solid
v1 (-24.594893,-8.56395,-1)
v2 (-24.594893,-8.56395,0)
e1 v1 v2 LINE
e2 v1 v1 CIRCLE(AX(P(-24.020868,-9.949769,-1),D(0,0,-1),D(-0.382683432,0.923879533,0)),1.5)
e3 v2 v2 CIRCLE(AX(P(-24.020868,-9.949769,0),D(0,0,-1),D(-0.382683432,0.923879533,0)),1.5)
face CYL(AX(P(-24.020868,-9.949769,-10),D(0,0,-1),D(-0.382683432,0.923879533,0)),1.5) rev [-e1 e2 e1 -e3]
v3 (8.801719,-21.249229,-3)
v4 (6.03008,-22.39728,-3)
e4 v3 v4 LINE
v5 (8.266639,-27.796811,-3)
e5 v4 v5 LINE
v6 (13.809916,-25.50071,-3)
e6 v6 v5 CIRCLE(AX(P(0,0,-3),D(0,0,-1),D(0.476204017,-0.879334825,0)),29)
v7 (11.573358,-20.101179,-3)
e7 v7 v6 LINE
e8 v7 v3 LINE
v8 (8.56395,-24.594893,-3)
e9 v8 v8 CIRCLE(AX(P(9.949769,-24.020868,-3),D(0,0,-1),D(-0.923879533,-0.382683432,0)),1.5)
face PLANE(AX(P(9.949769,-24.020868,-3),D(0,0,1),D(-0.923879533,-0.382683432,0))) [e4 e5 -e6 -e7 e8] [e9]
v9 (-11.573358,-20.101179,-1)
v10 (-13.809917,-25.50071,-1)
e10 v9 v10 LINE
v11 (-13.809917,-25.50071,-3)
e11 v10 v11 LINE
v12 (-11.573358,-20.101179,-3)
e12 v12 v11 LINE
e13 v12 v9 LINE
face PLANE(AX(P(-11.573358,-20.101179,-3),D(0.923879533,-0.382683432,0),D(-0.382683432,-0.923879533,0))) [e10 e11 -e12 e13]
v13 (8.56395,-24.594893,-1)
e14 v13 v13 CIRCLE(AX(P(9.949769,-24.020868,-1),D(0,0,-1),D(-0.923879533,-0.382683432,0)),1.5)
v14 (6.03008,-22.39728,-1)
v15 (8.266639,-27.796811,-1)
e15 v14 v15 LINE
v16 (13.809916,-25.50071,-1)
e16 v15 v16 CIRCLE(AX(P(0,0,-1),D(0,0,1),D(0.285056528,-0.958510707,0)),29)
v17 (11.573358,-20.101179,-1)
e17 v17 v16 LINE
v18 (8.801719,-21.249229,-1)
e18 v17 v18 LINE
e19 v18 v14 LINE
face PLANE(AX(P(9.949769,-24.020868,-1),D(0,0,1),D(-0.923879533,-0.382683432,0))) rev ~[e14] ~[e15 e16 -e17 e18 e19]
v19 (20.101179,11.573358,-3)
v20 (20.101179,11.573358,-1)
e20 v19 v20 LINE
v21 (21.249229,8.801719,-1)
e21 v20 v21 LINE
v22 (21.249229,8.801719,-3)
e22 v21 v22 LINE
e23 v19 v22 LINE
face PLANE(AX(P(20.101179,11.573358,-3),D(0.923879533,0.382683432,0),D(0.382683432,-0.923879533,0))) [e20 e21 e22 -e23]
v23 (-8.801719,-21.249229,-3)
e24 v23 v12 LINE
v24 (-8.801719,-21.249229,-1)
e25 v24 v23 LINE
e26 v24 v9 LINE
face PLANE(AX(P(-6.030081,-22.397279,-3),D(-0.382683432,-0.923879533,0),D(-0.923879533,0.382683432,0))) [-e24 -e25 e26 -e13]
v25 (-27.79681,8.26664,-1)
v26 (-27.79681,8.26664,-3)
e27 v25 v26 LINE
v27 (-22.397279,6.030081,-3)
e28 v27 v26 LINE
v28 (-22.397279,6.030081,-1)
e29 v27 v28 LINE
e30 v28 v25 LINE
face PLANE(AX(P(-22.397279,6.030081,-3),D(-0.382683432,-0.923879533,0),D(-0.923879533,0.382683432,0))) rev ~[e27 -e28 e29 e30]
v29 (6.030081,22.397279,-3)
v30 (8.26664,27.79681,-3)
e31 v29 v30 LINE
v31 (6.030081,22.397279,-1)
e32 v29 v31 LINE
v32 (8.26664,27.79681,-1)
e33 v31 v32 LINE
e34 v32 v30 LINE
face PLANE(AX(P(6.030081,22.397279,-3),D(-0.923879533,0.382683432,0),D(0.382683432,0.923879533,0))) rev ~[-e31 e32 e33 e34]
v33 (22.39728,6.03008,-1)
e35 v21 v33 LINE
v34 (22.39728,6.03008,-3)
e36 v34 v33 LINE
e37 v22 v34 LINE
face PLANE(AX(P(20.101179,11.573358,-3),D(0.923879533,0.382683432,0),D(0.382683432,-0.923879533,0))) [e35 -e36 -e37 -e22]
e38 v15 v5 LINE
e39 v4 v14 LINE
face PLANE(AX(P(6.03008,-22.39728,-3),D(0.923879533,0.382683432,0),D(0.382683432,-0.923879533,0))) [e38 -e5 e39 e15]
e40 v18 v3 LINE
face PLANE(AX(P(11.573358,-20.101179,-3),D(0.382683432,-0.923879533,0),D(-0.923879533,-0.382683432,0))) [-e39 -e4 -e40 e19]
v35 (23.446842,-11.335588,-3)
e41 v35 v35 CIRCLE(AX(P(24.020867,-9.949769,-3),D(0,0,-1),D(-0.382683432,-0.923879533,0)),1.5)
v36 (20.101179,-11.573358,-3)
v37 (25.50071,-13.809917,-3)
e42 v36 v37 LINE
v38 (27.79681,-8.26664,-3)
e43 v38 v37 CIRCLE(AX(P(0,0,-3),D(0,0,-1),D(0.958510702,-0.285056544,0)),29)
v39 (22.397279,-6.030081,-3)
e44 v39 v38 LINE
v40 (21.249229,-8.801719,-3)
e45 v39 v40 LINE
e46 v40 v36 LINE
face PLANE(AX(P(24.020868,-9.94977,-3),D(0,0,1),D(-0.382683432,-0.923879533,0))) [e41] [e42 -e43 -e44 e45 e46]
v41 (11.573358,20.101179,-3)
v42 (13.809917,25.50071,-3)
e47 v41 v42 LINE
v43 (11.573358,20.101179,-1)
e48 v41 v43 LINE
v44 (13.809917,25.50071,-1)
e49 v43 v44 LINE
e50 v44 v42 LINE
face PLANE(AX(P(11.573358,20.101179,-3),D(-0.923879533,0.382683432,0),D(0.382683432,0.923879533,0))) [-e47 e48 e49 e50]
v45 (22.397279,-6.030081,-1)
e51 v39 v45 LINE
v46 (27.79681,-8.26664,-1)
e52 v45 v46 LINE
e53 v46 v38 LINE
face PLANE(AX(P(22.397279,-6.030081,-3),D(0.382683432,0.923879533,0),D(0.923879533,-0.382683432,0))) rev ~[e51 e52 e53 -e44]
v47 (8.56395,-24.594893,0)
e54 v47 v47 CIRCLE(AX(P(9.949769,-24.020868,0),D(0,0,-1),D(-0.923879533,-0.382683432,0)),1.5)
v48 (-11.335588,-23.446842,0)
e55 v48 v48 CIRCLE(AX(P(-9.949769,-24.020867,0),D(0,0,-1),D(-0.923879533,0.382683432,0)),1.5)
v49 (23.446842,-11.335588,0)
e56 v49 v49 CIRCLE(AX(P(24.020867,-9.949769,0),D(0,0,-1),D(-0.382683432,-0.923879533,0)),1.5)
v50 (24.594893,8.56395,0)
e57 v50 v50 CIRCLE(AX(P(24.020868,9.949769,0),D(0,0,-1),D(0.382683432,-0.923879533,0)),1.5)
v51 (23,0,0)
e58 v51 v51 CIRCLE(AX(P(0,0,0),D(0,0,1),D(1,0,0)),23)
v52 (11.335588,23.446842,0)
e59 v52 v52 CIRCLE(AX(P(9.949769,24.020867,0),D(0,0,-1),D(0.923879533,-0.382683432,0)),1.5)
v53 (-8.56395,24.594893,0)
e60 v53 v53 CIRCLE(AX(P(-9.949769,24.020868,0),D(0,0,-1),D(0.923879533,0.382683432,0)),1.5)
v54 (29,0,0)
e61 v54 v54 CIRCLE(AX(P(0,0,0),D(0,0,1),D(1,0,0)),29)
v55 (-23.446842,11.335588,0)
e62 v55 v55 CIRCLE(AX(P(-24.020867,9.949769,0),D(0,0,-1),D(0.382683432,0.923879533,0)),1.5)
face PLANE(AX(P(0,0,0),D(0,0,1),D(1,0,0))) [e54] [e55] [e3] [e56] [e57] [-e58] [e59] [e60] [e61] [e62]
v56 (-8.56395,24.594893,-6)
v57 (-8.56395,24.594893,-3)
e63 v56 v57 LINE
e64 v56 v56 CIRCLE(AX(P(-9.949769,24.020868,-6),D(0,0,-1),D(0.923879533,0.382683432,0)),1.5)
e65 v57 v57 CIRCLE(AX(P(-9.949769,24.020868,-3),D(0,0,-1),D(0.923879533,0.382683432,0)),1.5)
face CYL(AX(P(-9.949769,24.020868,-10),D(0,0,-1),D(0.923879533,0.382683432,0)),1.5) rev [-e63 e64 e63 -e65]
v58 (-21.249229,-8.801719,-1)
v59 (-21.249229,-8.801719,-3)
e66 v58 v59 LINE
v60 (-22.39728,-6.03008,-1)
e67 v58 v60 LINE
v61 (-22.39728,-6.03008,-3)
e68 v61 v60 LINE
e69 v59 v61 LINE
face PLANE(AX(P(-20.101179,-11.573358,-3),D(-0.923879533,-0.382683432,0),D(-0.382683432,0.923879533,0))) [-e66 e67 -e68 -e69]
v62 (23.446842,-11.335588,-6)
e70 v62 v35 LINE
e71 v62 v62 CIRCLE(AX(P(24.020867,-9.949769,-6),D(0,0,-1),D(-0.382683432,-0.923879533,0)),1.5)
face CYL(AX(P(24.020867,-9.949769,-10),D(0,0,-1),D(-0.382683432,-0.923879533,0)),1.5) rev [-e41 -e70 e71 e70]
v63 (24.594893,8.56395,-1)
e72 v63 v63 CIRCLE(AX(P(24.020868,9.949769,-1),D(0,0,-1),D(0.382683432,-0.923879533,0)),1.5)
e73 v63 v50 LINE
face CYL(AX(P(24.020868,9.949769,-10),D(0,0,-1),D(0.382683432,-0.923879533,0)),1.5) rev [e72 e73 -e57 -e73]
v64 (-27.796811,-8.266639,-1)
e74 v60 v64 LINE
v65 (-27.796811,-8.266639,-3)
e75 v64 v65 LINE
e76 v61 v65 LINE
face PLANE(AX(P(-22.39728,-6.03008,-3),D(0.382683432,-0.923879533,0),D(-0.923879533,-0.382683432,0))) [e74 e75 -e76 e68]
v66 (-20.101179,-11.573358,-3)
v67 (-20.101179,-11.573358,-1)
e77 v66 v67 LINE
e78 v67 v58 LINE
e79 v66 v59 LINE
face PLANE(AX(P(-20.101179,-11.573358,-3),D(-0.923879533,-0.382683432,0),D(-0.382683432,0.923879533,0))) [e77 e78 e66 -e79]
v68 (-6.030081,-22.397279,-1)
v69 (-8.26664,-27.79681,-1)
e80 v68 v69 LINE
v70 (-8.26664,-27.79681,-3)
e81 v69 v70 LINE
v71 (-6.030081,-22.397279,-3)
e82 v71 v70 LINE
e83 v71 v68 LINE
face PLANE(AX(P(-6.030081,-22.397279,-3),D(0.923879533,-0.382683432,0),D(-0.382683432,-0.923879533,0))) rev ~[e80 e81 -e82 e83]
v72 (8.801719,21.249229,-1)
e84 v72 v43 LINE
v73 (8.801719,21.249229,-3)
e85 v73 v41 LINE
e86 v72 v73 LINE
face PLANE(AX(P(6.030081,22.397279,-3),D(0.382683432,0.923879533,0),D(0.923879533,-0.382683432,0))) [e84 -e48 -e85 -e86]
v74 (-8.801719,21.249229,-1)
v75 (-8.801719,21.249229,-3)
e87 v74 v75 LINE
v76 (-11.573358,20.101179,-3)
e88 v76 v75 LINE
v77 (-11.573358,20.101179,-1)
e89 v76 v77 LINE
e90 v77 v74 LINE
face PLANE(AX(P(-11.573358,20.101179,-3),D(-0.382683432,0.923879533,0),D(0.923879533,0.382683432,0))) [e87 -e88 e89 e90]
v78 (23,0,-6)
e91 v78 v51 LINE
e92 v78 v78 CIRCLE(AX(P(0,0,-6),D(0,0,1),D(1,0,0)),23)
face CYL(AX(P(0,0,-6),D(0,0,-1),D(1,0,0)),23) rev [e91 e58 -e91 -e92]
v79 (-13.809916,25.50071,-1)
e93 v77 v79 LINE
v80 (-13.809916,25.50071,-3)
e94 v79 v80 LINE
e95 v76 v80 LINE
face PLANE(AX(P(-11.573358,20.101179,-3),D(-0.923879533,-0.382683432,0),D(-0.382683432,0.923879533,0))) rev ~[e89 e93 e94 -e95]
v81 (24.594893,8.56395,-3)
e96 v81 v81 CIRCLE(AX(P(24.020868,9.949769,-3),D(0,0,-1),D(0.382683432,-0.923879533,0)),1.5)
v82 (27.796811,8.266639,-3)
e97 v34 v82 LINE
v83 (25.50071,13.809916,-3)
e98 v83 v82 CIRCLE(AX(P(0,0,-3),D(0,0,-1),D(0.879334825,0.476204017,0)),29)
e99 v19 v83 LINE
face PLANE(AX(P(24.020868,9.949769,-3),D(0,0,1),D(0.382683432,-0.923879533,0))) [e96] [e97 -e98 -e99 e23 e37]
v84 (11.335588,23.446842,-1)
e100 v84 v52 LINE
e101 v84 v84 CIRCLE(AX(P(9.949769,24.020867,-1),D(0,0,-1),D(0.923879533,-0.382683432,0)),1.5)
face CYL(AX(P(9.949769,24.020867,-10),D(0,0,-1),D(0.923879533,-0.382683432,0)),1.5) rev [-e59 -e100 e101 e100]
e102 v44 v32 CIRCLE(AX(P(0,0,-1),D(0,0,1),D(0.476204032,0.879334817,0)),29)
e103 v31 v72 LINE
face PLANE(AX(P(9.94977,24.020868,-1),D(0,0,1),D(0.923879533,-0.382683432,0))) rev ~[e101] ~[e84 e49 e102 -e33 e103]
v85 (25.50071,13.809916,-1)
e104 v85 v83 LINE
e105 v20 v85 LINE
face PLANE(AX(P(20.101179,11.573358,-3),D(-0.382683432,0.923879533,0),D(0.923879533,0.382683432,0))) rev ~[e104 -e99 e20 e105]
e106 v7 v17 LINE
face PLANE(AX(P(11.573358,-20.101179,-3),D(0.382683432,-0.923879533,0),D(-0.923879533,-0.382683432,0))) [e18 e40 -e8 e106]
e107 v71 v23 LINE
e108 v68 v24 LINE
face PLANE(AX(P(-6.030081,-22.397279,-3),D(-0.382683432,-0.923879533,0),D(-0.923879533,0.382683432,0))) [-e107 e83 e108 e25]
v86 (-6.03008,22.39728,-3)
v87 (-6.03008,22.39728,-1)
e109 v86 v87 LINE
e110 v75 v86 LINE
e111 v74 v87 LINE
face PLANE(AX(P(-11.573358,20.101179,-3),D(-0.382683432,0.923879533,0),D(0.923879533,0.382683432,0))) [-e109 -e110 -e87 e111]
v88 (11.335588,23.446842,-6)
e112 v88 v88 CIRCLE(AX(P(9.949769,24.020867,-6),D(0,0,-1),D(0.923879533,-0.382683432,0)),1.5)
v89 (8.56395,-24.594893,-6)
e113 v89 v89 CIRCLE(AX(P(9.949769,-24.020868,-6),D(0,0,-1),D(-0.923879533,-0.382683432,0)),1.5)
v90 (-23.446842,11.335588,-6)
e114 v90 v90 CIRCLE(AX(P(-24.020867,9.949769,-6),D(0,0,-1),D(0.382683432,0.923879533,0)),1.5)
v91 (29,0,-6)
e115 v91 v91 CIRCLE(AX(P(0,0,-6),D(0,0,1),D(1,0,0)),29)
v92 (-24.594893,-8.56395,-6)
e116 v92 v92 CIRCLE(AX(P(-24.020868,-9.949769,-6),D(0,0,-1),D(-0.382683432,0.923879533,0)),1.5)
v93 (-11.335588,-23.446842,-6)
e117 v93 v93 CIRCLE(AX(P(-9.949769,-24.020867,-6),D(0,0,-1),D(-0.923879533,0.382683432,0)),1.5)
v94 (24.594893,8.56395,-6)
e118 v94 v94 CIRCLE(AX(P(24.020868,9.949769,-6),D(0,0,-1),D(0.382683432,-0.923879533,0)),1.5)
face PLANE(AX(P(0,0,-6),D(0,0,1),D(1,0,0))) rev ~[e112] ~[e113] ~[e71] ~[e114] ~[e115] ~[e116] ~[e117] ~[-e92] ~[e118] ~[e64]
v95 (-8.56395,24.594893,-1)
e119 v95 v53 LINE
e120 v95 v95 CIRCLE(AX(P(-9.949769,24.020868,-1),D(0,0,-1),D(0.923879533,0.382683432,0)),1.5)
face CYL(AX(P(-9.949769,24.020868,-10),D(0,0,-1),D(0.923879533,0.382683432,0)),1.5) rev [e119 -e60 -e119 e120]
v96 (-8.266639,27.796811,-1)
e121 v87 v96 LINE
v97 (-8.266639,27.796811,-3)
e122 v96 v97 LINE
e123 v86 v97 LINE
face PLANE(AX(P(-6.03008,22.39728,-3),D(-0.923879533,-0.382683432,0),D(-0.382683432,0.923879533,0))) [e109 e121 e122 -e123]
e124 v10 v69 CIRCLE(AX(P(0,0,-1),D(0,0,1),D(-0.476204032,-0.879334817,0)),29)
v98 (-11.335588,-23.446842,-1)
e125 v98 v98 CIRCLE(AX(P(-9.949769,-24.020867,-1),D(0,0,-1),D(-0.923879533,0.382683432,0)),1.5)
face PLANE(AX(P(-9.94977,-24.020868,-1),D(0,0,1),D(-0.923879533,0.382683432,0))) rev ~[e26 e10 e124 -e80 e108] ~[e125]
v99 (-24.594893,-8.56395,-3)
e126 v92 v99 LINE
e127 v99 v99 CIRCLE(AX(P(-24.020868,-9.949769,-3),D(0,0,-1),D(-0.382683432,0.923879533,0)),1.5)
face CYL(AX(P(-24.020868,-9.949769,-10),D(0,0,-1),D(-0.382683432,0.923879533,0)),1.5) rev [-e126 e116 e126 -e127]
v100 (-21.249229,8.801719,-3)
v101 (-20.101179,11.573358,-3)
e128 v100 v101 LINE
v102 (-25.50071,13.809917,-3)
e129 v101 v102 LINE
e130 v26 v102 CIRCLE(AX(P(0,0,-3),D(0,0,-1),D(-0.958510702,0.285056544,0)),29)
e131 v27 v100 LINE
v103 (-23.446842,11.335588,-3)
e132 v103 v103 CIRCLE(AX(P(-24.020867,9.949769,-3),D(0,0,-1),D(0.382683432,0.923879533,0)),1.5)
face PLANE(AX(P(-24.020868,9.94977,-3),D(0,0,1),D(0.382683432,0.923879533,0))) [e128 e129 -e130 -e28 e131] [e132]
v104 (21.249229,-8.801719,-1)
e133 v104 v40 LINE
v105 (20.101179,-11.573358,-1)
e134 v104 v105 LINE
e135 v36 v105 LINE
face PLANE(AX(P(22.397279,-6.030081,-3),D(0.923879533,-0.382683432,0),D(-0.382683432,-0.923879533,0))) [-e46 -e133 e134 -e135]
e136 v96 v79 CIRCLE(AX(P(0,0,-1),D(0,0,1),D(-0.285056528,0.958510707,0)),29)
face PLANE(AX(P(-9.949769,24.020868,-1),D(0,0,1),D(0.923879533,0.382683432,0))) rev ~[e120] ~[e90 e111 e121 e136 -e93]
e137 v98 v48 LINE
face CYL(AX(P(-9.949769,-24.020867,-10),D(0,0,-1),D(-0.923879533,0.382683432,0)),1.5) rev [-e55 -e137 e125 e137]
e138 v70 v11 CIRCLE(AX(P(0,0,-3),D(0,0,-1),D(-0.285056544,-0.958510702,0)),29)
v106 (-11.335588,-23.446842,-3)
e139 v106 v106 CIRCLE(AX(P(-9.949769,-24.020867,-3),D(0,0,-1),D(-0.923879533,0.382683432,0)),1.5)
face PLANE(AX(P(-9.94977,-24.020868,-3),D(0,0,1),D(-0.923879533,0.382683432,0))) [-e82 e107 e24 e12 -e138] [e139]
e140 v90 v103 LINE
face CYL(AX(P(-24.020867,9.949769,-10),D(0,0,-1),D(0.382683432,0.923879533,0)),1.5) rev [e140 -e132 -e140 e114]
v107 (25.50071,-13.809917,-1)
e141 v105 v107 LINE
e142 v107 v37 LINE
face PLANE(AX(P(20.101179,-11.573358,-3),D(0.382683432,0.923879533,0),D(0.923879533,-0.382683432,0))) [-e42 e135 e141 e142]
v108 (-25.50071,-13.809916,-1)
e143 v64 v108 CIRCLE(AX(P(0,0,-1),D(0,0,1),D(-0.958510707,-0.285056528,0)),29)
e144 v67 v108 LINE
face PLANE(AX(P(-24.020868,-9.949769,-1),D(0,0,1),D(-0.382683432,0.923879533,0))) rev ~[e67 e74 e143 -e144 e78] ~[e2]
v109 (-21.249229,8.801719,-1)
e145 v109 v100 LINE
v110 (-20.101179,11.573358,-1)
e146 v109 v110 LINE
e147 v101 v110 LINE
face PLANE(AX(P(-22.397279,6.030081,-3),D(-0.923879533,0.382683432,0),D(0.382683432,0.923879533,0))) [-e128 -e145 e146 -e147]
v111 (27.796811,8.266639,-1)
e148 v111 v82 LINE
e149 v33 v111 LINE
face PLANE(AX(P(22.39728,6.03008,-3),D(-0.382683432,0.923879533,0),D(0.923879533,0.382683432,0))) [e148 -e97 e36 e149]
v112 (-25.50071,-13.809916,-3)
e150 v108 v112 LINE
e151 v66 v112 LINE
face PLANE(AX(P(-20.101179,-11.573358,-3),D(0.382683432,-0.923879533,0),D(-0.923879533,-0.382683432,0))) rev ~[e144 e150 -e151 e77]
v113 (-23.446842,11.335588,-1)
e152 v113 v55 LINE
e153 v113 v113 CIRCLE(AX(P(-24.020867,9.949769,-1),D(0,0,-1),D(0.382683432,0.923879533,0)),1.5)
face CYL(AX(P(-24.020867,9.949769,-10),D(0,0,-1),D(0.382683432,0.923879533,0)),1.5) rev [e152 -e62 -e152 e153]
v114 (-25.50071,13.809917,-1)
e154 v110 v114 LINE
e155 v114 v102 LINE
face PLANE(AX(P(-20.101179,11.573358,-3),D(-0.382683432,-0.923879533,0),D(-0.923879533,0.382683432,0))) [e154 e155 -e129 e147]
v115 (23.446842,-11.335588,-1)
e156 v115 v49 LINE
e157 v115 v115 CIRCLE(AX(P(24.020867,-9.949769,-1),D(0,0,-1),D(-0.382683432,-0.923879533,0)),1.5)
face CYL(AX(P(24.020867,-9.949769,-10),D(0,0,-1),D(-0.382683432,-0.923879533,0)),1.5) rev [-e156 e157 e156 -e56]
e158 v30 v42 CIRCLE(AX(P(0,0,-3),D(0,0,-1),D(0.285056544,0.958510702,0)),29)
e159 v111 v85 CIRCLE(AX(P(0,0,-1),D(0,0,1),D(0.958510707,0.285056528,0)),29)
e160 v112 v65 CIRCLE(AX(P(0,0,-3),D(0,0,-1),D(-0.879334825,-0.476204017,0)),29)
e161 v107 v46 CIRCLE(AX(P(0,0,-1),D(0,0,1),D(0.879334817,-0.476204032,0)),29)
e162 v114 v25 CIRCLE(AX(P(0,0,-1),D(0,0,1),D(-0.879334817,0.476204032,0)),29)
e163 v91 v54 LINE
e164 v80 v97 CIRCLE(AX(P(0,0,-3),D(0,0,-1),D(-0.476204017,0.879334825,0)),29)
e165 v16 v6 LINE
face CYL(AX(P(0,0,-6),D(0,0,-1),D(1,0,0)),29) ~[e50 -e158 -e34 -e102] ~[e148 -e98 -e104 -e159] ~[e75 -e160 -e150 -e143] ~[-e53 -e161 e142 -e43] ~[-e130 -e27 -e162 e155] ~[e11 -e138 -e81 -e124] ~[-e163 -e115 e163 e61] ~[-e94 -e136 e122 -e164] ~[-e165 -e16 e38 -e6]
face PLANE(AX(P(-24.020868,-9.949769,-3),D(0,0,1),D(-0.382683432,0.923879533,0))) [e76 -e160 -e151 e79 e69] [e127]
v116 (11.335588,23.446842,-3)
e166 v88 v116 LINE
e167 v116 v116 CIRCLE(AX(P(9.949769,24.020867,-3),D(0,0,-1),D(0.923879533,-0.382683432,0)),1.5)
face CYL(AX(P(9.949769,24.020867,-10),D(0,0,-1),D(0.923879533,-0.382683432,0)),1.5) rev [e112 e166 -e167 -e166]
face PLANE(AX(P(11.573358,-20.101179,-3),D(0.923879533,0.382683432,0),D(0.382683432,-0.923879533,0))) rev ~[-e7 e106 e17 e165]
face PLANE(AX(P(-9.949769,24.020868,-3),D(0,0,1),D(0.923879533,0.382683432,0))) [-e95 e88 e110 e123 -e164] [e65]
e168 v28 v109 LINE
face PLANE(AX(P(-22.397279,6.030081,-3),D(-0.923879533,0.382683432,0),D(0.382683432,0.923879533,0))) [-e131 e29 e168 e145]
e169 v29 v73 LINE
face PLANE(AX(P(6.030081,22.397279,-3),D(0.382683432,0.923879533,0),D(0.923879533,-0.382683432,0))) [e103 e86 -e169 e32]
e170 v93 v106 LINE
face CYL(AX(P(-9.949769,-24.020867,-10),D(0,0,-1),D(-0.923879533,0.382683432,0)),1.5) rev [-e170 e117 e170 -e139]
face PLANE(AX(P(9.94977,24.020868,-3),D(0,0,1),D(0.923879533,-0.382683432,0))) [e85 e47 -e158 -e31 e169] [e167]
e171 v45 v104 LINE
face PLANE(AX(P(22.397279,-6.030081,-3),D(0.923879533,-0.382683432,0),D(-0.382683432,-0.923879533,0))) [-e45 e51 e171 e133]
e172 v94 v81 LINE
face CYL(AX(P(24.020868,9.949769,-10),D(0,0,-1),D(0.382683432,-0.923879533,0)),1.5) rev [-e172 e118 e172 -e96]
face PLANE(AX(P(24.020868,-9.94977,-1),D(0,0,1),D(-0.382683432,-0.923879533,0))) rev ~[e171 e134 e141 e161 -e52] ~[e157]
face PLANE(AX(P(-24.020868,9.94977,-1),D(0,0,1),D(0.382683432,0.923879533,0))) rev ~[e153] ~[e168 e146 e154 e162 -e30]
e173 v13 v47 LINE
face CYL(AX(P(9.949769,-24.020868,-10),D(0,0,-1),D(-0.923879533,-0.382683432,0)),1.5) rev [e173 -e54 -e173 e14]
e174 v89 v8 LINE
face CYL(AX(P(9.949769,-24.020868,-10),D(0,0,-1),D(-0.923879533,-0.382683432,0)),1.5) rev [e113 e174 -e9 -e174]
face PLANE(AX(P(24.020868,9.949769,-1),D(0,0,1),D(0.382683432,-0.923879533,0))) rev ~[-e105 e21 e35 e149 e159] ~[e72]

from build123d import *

# Parameters (mm, degrees)
BOX345_W                    = 6
BOX345_H                    = 6
BOX345_DEPTH                = 2
BOX341_W                    = 6
BOX341_H                    = 6
BOX341_DEPTH                = 2
BOX341_PLACEMENT_ANGLE      = 135
BOX346_W                    = 6
BOX346_H                    = 6
BOX346_DEPTH                = 2
BOX343_W                    = 6
BOX343_H                    = 6
BOX343_DEPTH                = 2
BOX343_PLACEMENT_ANGLE      = 225
BOX347_W                    = 6
BOX347_H                    = 6
BOX347_DEPTH                = 2
BOX344_W                    = 6
BOX344_H                    = 6
BOX344_DEPTH                = 2
BOX344_PLACEMENT_ANGLE      = 45
BOX340_W                    = 6
BOX340_H                    = 6
BOX340_DEPTH                = 2
BOX342_W                    = 6
BOX342_H                    = 6
BOX342_DEPTH                = 2
BOX342_PLACEMENT_ANGLE      = 45
COMPOUND569_PLACEMENT_ANGLE = 22.5
CYLINDER907_R               = 1.5
CYLINDER907_DEPTH           = 15
CYLINDER907_PLACEMENT_ANGLE = 45
CYLINDER906_R               = 1.5
CYLINDER906_DEPTH           = 15
CYLINDER905_R               = 1.5
CYLINDER905_DEPTH           = 15
CYLINDER905_PLACEMENT_ANGLE = 135
CYLINDER910_R               = 1.5
CYLINDER910_DEPTH           = 15
CYLINDER911_R               = 1.5
CYLINDER911_DEPTH           = 15
CYLINDER911_PLACEMENT_ANGLE = 225
CYLINDER912_R               = 1.5
CYLINDER912_DEPTH           = 15
CYLINDER908_R               = 1.5
CYLINDER908_DEPTH           = 15
CYLINDER908_PLACEMENT_ANGLE = 45
CYLINDER909_R               = 1.5
CYLINDER909_DEPTH           = 15
COMPOUND568_PLACEMENT_ANGLE = 22.5
TUBE010_R                   = 29
TUBE010_R_2                 = 23
TUBE010_DEPTH               = 6


with BuildPart() as krychle345:
    # Box345 → Box345 (new body)
    with BuildSketch(Plane(origin=(-23, -3, -13), x_dir=(0, 1, 0), z_dir=(0, 0, 1))):
        with Locations((3, 3)):
            Rectangle(BOX345_W, BOX345_H)
    extrude(amount=BOX345_DEPTH)


with BuildPart() as krychle341:
    # Box341 → Box341 (new body)
    with BuildSketch(Plane.XY):
        with Locations((3, 3)):
            Rectangle(BOX341_W, BOX341_H)
    extrude(amount=BOX341_DEPTH)


with BuildPart() as krychle341_1:
    # Box341 placement: moved
    add(krychle341.part.moved(Location((-14.142136, -18.384776, -13))).rotate(Axis((-14.142136, -18.384776, -13), (0, 0, 1)), BOX341_PLACEMENT_ANGLE))


with BuildPart() as krychle346:
    # Box346 → Box346 (new body)
    with BuildSketch(Plane(origin=(3, -23, -13), x_dir=(-1, 0, 0), z_dir=(0, 0, 1))):
        with Locations((3, 3)):
            Rectangle(BOX346_W, BOX346_H)
    extrude(amount=BOX346_DEPTH)


with BuildPart() as krychle343:
    # Box343 → Box343 (new body)
    with BuildSketch(Plane.XY):
        with Locations((3, 3)):
            Rectangle(BOX343_W, BOX343_H)
    extrude(amount=BOX343_DEPTH)


with BuildPart() as krychle343_1:
    # Box343 placement: moved
    add(krychle343.part.moved(Location((18.384776, -14.142136, -13))).rotate(Axis((18.384776, -14.142136, -13), (0, 0, 1)), BOX343_PLACEMENT_ANGLE))


with BuildPart() as krychle347:
    # Box347 → Box347 (new body)
    with BuildSketch(Plane(origin=(23, 3, -13), x_dir=(0, -1, 0), z_dir=(0, 0, 1))):
        with Locations((3, 3)):
            Rectangle(BOX347_W, BOX347_H)
    extrude(amount=BOX347_DEPTH)


with BuildPart() as krychle344:
    # Box344 → Box344 (new body)
    with BuildSketch(Plane.XY):
        with Locations((3, 3)):
            Rectangle(BOX344_W, BOX344_H)
    extrude(amount=BOX344_DEPTH)


with BuildPart() as krychle344_1:
    # Box344 placement: moved
    add(krychle344.part.moved(Location((14.142136, 18.384776, -13))).rotate(Axis((14.142136, 18.384776, -13), (0, 0, -1)), BOX344_PLACEMENT_ANGLE))


with BuildPart() as krychle340:
    # Box340 → Box340 (new body)
    with BuildSketch(Plane(origin=(-3, 23, -13), x_dir=(1, 0, 0), z_dir=(0, 0, 1))):
        with Locations((3, 3)):
            Rectangle(BOX340_W, BOX340_H)
    extrude(amount=BOX340_DEPTH)


with BuildPart() as compound569:
    # Box342 → Box342 (new body)
    with BuildSketch(Plane.XY):
        with Locations((3, 3)):
            Rectangle(BOX342_W, BOX342_H)
    extrude(amount=BOX342_DEPTH)


with BuildPart() as compound569_1:
    # Box342 placement: moved
    add(compound569.part.moved(Location((-18.384776, 14.142136, -13))).rotate(Axis((-18.384776, 14.142136, -13), (0, 0, 1)), BOX342_PLACEMENT_ANGLE))

    # Compound569: union Krychle345, Krychle341, Krychle346, Krychle343, Krychle347, Krychle344, Krychle340
    add(krychle345.part)
    add(krychle341_1.part)
    add(krychle346.part)
    add(krychle343_1.part)
    add(krychle347.part)
    add(krychle344_1.part)
    add(krychle340.part)


with BuildPart() as compound569_2:
    # Compound569 placement: moved
    add(compound569_1.part.rotate(Axis((0, 0, 0), (0, 0, 1)), COMPOUND569_PLACEMENT_ANGLE))


with BuildPart() as v_lec907:
    # Cylinder907 → Cylinder907 (new body)
    with BuildSketch(Plane.XY):
        Circle(CYLINDER907_R)
    extrude(amount=CYLINDER907_DEPTH)


with BuildPart() as v_lec907_1:
    # Cylinder907 placement: moved
    add(v_lec907.part.moved(Location((-18.384776, 18.384776, -20))).rotate(Axis((-18.384776, 18.384776, -20), (0, 0, 1)), CYLINDER907_PLACEMENT_ANGLE))


with BuildPart() as v_lec906:
    # Cylinder906 → Cylinder906 (new body)
    with BuildSketch(Plane(origin=(-26, 0, -20), x_dir=(0, 1, 0), z_dir=(0, 0, 1))):
        Circle(CYLINDER906_R)
    extrude(amount=CYLINDER906_DEPTH)


with BuildPart() as v_lec905:
    # Cylinder905 → Cylinder905 (new body)
    with BuildSketch(Plane.XY):
        Circle(CYLINDER905_R)
    extrude(amount=CYLINDER905_DEPTH)


with BuildPart() as v_lec905_1:
    # Cylinder905 placement: moved
    add(v_lec905.part.moved(Location((-18.384776, -18.384776, -20))).rotate(Axis((-18.384776, -18.384776, -20), (0, 0, 1)), CYLINDER905_PLACEMENT_ANGLE))


with BuildPart() as v_lec910:
    # Cylinder910 → Cylinder910 (new body)
    with BuildSketch(Plane(origin=(0, -26, -20), x_dir=(-1, 0, 0), z_dir=(0, 0, 1))):
        Circle(CYLINDER910_R)
    extrude(amount=CYLINDER910_DEPTH)


with BuildPart() as v_lec911:
    # Cylinder911 → Cylinder911 (new body)
    with BuildSketch(Plane.XY):
        Circle(CYLINDER911_R)
    extrude(amount=CYLINDER911_DEPTH)


with BuildPart() as v_lec911_1:
    # Cylinder911 placement: moved
    add(v_lec911.part.moved(Location((18.384776, -18.384776, -20))).rotate(Axis((18.384776, -18.384776, -20), (0, 0, 1)), CYLINDER911_PLACEMENT_ANGLE))


with BuildPart() as v_lec912:
    # Cylinder912 → Cylinder912 (new body)
    with BuildSketch(Plane(origin=(26, 0, -20), x_dir=(0, -1, 0), z_dir=(0, 0, 1))):
        Circle(CYLINDER912_R)
    extrude(amount=CYLINDER912_DEPTH)


with BuildPart() as v_lec908:
    # Cylinder908 → Cylinder908 (new body)
    with BuildSketch(Plane.XY):
        Circle(CYLINDER908_R)
    extrude(amount=CYLINDER908_DEPTH)


with BuildPart() as v_lec908_1:
    # Cylinder908 placement: moved
    add(v_lec908.part.moved(Location((18.384776, 18.384776, -20))).rotate(Axis((18.384776, 18.384776, -20), (0, 0, -1)), CYLINDER908_PLACEMENT_ANGLE))


with BuildPart() as compound568:
    # Cylinder909 → Cylinder909 (new body)
    with BuildSketch(Plane(origin=(0, 26, -20), x_dir=(1, 0, 0), z_dir=(0, 0, 1))):
        Circle(CYLINDER909_R)
    extrude(amount=CYLINDER909_DEPTH)

    # Compound568: union Válec907, Válec906, Válec905, Válec910, Válec911, Válec912, Válec908
    add(v_lec907_1.part)
    add(v_lec906.part)
    add(v_lec905_1.part)
    add(v_lec910.part)
    add(v_lec911_1.part)
    add(v_lec912.part)
    add(v_lec908_1.part)


with BuildPart() as compound568_1:
    # Compound568 placement: moved
    add(compound568.part.rotate(Axis((0, 0, 0), (0, 0, 1)), COMPOUND568_PLACEMENT_ANGLE))


with BuildPart() as cut373:
    # Tube010 → Tube010 (new body)
    with BuildSketch(Plane.XY.offset(-16)):
        Circle(TUBE010_R)
        Circle(TUBE010_R_2, mode=Mode.SUBTRACT)
    extrude(amount=TUBE010_DEPTH)

    # Cut372: cut Compound568
    add(compound568_1.part, mode=Mode.SUBTRACT)

    # Cut373: cut Compound569
    add(compound569_2.part, mode=Mode.SUBTRACT)


with BuildPart() as cut373_1:
    # Cut373 placement: moved
    add(cut373.part.moved(Location((0, 0, 10))))


solid = cut373_1.part
